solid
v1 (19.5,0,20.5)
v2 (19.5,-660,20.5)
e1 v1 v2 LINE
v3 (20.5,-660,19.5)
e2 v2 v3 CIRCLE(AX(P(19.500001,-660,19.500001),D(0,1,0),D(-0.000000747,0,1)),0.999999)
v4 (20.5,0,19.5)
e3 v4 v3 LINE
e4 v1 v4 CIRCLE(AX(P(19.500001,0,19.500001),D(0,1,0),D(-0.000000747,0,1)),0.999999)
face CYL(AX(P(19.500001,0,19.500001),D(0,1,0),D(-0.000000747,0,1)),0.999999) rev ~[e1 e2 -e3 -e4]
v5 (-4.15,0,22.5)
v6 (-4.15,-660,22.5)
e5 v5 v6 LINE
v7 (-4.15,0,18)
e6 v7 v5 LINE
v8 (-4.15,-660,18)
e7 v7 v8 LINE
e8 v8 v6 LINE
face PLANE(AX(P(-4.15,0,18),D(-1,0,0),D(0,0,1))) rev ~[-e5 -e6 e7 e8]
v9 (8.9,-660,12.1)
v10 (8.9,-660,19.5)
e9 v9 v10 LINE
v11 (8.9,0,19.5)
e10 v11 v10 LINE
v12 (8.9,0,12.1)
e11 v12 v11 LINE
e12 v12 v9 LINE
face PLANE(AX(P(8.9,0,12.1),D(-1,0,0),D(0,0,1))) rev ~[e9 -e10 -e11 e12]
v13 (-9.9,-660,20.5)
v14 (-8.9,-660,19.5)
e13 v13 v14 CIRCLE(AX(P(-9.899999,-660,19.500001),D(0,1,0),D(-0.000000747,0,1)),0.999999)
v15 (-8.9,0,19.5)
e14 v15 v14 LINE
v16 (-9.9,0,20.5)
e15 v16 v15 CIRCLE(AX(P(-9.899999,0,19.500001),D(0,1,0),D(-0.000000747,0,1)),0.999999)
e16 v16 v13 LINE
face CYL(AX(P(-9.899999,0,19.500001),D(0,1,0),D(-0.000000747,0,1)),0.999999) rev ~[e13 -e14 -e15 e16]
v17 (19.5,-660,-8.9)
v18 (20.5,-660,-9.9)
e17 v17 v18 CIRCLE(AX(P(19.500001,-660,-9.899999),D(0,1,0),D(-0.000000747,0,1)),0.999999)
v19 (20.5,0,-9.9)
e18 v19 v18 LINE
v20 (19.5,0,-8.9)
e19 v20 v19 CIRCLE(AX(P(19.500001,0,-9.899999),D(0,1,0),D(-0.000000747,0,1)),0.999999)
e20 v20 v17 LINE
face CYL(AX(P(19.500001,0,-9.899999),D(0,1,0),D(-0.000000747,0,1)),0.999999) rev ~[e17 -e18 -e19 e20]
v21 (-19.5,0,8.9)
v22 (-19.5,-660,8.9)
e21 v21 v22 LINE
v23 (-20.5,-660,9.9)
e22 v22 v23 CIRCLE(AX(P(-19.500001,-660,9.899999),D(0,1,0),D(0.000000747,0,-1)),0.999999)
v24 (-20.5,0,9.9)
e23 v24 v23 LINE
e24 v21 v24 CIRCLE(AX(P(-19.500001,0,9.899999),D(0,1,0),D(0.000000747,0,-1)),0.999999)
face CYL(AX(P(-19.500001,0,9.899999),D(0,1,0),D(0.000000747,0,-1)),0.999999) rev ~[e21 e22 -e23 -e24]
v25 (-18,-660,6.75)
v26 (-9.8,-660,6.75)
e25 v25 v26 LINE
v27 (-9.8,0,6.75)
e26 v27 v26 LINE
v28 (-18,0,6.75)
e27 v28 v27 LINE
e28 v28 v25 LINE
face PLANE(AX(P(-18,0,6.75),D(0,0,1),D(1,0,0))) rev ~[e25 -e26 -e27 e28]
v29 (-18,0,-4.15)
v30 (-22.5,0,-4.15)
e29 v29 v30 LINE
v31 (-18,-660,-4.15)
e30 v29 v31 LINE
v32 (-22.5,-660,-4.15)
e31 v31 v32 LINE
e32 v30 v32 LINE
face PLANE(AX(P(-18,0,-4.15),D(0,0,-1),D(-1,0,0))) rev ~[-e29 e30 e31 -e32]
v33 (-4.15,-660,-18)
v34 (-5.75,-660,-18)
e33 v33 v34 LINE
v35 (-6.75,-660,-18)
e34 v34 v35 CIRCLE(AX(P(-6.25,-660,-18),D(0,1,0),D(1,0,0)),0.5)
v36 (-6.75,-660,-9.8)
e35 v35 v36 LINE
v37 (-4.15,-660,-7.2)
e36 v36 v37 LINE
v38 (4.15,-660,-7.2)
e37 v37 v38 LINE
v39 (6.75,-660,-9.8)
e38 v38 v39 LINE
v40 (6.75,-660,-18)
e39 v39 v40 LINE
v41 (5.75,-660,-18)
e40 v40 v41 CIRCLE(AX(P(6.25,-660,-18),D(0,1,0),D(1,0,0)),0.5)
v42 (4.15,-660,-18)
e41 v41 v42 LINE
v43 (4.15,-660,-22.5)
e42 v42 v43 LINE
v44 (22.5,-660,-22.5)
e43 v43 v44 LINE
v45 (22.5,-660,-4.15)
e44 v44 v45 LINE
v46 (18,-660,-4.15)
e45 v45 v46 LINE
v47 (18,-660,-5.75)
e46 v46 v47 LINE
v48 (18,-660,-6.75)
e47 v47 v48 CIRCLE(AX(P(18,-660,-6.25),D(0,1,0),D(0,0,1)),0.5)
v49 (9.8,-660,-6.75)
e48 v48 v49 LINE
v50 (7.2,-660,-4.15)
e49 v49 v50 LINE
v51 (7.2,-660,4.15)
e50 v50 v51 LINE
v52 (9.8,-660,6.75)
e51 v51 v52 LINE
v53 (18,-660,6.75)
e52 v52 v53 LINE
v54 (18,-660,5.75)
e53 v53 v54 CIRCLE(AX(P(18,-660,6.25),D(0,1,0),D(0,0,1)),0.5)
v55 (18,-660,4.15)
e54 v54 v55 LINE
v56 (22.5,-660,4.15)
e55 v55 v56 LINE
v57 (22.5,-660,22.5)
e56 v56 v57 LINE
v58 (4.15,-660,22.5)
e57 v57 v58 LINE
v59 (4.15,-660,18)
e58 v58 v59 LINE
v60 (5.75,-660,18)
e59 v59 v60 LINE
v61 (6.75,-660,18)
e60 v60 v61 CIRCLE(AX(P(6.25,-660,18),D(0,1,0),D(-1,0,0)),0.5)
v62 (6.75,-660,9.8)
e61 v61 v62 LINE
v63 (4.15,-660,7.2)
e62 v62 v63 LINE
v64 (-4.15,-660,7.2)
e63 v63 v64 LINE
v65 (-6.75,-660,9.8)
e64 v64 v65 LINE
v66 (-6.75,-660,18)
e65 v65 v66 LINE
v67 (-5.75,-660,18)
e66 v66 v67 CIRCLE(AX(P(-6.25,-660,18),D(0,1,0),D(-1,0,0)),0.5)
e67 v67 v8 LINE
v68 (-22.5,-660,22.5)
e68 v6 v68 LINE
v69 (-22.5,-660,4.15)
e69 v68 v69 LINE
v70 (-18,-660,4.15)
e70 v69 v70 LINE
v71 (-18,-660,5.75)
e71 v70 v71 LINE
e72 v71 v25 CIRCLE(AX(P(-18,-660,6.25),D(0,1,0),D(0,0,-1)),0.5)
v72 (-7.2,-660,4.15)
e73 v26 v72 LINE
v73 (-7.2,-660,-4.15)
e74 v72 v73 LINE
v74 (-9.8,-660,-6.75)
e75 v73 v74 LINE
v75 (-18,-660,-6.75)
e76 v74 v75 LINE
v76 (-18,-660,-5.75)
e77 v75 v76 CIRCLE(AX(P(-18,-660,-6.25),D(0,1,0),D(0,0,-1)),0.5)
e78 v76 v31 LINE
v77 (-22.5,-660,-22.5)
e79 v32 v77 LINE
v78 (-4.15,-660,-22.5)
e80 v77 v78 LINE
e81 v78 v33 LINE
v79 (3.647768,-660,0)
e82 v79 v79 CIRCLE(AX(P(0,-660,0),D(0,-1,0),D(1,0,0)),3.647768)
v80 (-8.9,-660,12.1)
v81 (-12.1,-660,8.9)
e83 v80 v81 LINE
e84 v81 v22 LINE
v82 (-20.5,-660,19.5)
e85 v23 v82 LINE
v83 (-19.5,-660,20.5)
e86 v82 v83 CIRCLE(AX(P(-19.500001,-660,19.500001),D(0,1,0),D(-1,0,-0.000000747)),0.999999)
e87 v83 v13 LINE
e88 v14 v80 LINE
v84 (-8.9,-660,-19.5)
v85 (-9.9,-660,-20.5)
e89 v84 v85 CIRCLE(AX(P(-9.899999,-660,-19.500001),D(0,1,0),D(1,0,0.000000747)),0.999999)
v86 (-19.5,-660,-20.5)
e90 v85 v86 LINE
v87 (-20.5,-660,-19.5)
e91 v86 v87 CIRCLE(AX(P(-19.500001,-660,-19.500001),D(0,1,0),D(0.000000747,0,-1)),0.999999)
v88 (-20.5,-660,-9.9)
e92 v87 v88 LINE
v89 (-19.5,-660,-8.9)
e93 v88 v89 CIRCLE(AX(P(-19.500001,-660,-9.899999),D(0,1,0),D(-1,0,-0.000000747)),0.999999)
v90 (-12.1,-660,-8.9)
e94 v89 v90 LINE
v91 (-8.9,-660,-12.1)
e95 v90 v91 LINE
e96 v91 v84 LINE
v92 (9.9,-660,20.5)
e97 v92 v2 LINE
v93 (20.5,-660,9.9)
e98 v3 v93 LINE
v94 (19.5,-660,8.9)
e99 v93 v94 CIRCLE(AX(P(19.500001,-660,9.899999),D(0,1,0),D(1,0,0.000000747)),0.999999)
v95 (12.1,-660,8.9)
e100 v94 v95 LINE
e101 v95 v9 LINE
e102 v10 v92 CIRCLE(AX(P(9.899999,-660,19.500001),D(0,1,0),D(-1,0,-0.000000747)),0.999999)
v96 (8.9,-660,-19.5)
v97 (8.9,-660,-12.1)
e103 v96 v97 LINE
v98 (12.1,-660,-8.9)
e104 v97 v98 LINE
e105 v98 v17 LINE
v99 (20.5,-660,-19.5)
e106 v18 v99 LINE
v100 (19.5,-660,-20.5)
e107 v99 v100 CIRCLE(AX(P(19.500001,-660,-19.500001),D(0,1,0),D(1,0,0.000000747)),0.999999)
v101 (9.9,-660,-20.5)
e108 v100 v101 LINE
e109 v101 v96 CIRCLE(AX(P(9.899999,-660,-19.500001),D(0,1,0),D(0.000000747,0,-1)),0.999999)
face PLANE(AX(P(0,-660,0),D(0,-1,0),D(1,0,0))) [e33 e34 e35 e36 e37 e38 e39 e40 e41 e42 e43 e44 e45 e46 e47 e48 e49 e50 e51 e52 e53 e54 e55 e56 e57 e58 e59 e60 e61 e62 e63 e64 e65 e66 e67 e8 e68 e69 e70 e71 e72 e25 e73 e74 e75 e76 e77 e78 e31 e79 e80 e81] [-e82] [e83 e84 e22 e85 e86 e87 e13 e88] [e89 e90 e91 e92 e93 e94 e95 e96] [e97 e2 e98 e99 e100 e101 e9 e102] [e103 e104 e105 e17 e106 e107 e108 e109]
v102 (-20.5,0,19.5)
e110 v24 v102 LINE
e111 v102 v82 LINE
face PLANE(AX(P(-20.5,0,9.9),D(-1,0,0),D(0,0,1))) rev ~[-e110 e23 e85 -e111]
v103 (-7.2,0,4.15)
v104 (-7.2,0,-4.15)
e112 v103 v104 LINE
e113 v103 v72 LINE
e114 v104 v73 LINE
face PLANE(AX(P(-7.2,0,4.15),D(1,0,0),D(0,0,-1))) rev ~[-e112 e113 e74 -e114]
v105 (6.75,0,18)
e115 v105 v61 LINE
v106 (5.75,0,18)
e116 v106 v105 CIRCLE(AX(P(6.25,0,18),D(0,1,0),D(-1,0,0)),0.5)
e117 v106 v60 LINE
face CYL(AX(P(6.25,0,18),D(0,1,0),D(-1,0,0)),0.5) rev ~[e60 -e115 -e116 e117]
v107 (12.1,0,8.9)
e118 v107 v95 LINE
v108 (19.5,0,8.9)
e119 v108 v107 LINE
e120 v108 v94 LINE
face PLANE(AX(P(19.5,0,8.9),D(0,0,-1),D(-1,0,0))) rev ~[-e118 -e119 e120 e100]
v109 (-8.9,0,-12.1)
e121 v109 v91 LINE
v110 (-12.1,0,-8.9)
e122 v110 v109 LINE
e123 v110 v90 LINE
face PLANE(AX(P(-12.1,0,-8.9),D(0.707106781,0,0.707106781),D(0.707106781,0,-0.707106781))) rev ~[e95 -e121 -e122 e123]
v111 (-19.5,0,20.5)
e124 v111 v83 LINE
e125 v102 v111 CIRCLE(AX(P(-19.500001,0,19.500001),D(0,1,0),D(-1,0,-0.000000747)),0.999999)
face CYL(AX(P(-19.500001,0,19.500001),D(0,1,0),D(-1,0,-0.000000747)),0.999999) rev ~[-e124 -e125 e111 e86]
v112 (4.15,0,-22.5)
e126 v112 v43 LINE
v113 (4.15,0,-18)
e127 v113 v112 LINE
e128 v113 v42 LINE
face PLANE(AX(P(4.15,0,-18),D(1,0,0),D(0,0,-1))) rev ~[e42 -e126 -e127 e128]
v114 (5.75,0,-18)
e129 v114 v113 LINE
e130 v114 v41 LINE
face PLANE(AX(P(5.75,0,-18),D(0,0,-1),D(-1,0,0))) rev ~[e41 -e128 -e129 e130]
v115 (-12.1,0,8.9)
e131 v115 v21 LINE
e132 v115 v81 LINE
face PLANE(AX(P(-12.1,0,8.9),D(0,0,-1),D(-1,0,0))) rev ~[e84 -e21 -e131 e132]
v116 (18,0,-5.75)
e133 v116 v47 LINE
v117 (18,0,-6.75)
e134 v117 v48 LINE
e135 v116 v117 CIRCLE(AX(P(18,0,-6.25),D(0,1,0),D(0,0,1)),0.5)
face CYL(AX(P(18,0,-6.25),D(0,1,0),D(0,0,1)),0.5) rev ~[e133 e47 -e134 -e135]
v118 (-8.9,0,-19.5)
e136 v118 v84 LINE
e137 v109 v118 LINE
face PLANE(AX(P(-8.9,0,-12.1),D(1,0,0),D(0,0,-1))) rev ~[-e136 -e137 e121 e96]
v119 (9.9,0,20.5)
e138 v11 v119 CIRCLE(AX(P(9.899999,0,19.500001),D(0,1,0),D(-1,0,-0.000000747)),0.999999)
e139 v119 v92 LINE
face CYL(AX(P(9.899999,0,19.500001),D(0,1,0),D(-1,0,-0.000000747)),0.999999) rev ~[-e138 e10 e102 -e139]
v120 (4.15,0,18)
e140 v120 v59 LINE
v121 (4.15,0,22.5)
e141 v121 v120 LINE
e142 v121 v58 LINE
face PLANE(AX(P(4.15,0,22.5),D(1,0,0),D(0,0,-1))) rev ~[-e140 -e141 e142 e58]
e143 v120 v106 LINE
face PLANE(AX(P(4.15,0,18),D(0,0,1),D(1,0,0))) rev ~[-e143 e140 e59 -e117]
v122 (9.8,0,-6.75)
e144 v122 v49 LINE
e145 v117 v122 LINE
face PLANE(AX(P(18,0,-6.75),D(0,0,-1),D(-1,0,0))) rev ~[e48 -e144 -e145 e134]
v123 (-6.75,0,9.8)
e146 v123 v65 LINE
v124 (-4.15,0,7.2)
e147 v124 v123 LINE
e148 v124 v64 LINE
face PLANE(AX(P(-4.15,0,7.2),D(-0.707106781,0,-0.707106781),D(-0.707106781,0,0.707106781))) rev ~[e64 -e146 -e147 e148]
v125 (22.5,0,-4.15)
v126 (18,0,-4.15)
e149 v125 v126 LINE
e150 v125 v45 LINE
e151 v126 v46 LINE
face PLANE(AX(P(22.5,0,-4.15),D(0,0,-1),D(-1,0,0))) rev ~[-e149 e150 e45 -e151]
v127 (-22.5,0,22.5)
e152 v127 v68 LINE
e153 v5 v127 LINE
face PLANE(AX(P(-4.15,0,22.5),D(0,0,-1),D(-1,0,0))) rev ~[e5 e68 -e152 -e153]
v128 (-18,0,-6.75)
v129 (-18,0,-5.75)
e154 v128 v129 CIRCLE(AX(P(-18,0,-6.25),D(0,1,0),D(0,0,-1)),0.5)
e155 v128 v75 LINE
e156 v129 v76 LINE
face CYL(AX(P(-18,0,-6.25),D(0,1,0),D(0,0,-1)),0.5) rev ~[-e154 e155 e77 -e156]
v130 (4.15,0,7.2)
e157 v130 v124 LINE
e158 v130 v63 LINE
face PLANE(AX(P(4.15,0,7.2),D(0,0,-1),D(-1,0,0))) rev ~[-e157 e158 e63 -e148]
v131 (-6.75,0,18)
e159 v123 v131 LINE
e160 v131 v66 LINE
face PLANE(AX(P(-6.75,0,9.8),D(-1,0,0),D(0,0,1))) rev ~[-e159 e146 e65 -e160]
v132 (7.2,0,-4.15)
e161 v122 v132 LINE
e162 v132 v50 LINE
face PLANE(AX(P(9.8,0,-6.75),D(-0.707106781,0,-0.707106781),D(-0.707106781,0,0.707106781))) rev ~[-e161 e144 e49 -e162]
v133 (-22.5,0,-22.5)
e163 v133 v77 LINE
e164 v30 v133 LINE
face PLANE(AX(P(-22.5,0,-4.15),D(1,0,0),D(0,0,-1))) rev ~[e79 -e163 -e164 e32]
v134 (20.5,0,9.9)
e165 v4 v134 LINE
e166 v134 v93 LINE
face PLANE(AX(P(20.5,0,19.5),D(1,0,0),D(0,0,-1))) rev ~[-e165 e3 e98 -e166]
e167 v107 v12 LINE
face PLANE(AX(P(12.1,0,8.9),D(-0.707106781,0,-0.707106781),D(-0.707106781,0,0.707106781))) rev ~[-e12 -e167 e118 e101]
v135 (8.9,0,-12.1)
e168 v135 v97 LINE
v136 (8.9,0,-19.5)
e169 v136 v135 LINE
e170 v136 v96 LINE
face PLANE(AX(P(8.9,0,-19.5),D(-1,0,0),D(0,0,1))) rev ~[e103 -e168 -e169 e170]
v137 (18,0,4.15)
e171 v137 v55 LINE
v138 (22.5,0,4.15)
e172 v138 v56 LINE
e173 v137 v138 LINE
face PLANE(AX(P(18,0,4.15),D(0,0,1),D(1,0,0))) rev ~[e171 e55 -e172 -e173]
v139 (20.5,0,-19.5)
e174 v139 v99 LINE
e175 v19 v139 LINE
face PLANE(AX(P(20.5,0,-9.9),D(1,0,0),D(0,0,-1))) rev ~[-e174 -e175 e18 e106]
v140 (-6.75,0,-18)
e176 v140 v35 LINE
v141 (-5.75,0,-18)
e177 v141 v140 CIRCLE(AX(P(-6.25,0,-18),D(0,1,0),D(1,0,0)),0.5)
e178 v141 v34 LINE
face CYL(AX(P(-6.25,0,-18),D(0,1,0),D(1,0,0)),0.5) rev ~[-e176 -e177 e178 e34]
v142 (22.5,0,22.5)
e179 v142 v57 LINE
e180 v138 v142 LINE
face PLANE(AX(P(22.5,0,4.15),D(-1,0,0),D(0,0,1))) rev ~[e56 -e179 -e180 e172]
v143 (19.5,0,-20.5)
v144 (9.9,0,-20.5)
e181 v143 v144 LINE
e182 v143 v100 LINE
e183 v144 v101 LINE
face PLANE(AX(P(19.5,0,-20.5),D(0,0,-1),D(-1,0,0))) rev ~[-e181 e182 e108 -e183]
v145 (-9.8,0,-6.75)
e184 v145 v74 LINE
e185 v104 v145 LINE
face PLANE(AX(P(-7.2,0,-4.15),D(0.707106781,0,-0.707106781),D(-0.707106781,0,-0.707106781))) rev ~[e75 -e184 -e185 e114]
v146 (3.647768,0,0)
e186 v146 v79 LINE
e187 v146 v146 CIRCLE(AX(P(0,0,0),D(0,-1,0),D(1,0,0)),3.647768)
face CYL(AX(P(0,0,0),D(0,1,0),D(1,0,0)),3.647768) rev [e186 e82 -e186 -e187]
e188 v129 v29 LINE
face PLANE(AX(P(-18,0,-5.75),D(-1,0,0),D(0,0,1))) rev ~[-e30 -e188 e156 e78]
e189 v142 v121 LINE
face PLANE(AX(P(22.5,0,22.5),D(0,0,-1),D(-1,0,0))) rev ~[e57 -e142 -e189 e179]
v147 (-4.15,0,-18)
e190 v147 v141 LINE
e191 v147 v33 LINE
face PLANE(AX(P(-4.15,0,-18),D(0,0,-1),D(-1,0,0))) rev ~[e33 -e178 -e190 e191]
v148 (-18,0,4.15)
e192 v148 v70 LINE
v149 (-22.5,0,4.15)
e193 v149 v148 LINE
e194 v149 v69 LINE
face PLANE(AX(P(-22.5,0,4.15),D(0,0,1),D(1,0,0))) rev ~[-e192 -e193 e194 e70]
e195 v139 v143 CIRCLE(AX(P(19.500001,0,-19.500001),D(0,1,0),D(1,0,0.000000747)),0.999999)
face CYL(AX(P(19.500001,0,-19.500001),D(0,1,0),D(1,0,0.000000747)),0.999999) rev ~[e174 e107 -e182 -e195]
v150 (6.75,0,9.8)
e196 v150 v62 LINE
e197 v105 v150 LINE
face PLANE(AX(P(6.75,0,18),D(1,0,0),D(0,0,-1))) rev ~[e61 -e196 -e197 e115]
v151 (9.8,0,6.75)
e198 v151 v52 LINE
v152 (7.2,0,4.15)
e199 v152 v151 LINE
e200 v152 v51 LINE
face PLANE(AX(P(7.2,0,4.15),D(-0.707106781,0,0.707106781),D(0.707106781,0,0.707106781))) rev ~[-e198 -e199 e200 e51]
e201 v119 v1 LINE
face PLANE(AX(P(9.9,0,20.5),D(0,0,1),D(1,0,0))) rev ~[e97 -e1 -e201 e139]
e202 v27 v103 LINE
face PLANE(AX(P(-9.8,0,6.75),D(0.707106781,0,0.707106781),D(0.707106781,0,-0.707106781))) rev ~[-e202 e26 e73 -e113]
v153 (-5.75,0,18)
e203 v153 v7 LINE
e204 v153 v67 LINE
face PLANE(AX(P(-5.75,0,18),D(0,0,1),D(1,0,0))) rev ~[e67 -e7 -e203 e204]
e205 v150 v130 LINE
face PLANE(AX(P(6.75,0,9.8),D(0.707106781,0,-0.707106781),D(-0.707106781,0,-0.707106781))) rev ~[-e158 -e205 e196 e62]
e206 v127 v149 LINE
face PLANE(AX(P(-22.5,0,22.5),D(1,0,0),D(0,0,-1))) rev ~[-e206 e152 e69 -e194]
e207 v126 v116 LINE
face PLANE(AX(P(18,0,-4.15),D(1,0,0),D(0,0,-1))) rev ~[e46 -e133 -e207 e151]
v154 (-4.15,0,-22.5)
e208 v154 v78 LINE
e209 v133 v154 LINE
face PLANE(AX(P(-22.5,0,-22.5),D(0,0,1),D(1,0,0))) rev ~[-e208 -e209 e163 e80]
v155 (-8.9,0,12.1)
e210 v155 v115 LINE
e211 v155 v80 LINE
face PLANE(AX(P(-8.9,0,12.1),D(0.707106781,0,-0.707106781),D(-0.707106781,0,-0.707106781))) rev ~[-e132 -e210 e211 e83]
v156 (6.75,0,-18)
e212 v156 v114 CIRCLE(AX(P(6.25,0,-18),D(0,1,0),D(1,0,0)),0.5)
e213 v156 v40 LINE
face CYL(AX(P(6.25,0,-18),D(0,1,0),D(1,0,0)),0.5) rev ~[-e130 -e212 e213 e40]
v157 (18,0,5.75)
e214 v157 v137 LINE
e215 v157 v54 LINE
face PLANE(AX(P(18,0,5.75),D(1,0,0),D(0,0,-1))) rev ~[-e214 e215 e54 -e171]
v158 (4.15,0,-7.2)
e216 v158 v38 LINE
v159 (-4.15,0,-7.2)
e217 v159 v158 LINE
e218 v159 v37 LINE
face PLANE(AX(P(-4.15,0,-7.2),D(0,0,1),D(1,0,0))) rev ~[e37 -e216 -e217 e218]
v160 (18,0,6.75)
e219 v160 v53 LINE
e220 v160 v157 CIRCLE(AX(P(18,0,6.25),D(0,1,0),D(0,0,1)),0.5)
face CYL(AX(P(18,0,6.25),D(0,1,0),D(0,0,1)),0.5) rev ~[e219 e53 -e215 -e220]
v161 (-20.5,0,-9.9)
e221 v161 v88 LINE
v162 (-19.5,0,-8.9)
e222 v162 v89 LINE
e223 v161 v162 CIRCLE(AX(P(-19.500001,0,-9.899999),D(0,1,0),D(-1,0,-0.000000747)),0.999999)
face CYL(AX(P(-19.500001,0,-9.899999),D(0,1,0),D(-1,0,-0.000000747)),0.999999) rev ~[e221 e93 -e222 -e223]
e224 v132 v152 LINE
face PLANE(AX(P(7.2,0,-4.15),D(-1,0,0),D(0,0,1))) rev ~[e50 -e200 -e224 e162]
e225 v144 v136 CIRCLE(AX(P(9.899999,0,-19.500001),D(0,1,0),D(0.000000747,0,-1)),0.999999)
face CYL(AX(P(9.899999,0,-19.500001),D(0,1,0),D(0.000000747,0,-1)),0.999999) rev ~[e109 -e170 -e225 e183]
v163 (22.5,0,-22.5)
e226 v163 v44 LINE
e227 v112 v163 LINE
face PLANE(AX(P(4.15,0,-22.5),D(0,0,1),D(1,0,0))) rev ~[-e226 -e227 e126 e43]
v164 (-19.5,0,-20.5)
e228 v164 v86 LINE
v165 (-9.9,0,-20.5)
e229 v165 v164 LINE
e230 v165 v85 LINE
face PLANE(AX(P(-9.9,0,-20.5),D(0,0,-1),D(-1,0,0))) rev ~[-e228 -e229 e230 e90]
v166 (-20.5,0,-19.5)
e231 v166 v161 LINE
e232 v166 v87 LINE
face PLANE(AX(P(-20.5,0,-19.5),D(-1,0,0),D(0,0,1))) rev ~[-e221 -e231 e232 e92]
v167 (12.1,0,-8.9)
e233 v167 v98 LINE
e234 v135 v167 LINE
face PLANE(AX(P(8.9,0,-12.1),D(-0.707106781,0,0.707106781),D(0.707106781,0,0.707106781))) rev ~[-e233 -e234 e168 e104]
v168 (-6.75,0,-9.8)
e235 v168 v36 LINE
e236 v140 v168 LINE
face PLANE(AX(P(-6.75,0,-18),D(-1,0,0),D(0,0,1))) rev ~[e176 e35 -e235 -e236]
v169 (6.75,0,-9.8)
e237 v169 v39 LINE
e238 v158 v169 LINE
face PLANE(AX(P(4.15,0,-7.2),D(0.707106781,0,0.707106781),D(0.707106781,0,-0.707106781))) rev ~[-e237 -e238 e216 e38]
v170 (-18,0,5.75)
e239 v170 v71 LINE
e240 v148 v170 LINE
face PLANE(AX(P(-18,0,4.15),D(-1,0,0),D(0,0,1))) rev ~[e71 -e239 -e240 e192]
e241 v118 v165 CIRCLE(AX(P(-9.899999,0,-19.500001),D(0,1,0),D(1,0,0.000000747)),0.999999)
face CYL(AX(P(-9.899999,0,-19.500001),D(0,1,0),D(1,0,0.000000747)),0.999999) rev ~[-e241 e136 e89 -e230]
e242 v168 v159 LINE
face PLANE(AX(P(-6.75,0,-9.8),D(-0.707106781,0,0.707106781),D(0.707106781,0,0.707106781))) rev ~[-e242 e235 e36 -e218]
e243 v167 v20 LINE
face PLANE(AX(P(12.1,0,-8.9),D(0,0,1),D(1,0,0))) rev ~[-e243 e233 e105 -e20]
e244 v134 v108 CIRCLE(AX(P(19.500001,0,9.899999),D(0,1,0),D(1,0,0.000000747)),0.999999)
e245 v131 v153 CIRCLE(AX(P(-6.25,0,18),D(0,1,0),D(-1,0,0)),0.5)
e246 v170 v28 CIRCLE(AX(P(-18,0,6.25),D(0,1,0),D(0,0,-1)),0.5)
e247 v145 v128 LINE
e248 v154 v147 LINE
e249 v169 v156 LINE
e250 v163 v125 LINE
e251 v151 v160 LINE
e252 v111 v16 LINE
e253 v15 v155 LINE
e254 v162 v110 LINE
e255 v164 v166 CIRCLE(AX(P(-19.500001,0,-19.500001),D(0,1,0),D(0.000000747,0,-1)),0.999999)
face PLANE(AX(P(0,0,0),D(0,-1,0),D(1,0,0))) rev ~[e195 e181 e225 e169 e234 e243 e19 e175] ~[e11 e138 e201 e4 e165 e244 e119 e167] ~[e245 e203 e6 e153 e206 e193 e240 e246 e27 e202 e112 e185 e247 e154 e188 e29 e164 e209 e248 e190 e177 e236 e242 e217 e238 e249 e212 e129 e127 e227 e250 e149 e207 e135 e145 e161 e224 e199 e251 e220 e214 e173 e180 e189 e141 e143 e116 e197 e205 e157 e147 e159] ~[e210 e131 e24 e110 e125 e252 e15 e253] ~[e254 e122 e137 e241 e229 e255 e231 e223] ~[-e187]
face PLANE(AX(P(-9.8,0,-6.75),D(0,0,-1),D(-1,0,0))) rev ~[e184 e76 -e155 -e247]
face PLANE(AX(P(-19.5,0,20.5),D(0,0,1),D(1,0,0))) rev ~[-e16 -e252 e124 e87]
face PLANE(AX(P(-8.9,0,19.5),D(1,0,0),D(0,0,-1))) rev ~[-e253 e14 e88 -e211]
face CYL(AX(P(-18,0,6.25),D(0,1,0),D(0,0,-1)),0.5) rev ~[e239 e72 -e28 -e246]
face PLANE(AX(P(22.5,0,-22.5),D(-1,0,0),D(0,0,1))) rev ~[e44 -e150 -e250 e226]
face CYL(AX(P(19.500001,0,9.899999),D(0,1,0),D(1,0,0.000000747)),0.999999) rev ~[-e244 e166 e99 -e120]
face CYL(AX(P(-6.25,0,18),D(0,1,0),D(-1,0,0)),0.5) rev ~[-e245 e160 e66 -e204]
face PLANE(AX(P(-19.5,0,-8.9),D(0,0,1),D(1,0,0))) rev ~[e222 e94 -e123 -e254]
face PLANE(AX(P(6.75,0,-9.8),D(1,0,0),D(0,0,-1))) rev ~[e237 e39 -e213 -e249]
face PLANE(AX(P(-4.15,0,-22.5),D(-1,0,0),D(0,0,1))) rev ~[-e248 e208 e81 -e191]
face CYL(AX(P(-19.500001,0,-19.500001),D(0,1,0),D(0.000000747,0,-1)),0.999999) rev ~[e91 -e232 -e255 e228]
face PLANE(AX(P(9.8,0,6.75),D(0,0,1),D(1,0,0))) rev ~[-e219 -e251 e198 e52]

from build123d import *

# Parameters (mm, degrees)
F0_R     = 3.647768
F1_DEPTH = 660


with BuildPart() as f1:
    # F0 (on Front) → F1 (new body)
    with BuildSketch(Plane.XZ):
        with BuildLine():
            Line((-4.15, 22.5), (-22.5, 22.5))
            Line((-22.5, 22.5), (-22.5, 4.15))
            Line((-22.5, 4.15), (-18, 4.15))
            Line((-18, 4.15), (-18, 5.75))
            ThreePointArc((-18, 5.75), (-18.5, 6.25), (-18, 6.75))
            Line((-18, 6.75), (-9.8, 6.75))
            Line((-9.8, 6.75), (-7.2, 4.15))
            Line((-7.2, 4.15), (-7.2, -4.15))
            Line((-7.2, -4.15), (-9.8, -6.75))
            Line((-9.8, -6.75), (-18, -6.75))
            ThreePointArc((-18, -6.75), (-18.5, -6.25), (-18, -5.75))
            Line((-18, -5.75), (-18, -4.15))
            Line((-18, -4.15), (-22.5, -4.15))
            Line((-22.5, -4.15), (-22.5, -22.5))
            Line((-22.5, -22.5), (-4.15, -22.5))
            Line((-4.15, -22.5), (-4.15, -18))
            Line((-4.15, -18), (-5.75, -18))
            ThreePointArc((-5.75, -18), (-6.25, -18.5), (-6.75, -18))
            Line((-6.75, -18), (-6.75, -9.8))
            Line((-6.75, -9.8), (-4.15, -7.2))
            Line((-4.15, -7.2), (4.15, -7.2))
            Line((4.15, -7.2), (6.75, -9.8))
            Line((6.75, -9.8), (6.75, -18))
            ThreePointArc((6.75, -18), (6.25, -18.5), (5.75, -18))
            Line((5.75, -18), (4.15, -18))
            Line((4.15, -18), (4.15, -22.5))
            Line((4.15, -22.5), (22.5, -22.5))
            Line((22.5, -22.5), (22.5, -4.15))
            Line((22.5, -4.15), (18, -4.15))
            Line((18, -4.15), (18, -5.75))
            ThreePointArc((18, -5.75), (18.5, -6.25), (18, -6.75))
            Line((18, -6.75), (9.8, -6.75))
            Line((9.8, -6.75), (7.2, -4.15))
            Line((7.2, -4.15), (7.2, 4.15))
            Line((7.2, 4.15), (9.8, 6.75))
            Line((9.8, 6.75), (18, 6.75))
            ThreePointArc((18, 6.75), (18.5, 6.25), (18, 5.75))
            Line((18, 5.75), (18, 4.15))
            Line((18, 4.15), (22.5, 4.15))
            Line((22.5, 4.15), (22.5, 22.5))
            Line((22.5, 22.5), (4.15, 22.5))
            Line((4.15, 22.5), (4.15, 18))
            Line((4.15, 18), (5.75, 18))
            ThreePointArc((5.75, 18), (6.25, 18.5), (6.75, 18))
            Line((6.75, 18), (6.75, 9.8))
            Line((6.75, 9.8), (4.15, 7.2))
            Line((4.15, 7.2), (-4.15, 7.2))
            Line((-4.15, 7.2), (-6.75, 9.8))
            Line((-6.75, 9.8), (-6.75, 18))
            ThreePointArc((-6.75, 18), (-6.25, 18.5), (-5.75, 18))
            Line((-5.75, 18), (-4.15, 18))
            Line((-4.15, 18), (-4.15, 22.5))
        make_face()
        with BuildLine():
            Line((-8.9, -12.1), (-8.9, -19.5))
            ThreePointArc((-8.9, -19.5), (-9.192893, -20.207107), (-9.9, -20.5))
            Line((-9.9, -20.5), (-19.5, -20.5))
            ThreePointArc((-19.5, -20.5), (-20.207107, -20.207107), (-20.5, -19.5))
            Line((-20.5, -19.5), (-20.5, -9.9))
            ThreePointArc((-20.5, -9.9), (-20.207107, -9.192893), (-19.5, -8.9))
            Line((-19.5, -8.9), (-12.1, -8.9))
            Line((-12.1, -8.9), (-8.9, -12.1))
        make_face(mode=Mode.SUBTRACT)
        with BuildLine():
            Line((8.9, -12.1), (12.1, -8.9))
            Line((12.1, -8.9), (19.5, -8.9))
            ThreePointArc((19.5, -8.9), (20.207107, -9.192893), (20.5, -9.9))
            Line((20.5, -9.9), (20.5, -19.5))
            ThreePointArc((20.5, -19.5), (20.207107, -20.207107), (19.5, -20.5))
            Line((19.5, -20.5), (9.9, -20.5))
            ThreePointArc((9.9, -20.5), (9.192893, -20.207107), (8.9, -19.5))
            Line((8.9, -19.5), (8.9, -12.1))
        make_face(mode=Mode.SUBTRACT)
        with BuildLine():
            ThreePointArc((-20.5, 19.5), (-20.207107, 20.207107), (-19.5, 20.5))
            Line((-19.5, 20.5), (-9.9, 20.5))
            ThreePointArc((-9.9, 20.5), (-9.192893, 20.207107), (-8.9, 19.5))
            Line((-8.9, 19.5), (-8.9, 12.1))
            Line((-8.9, 12.1), (-12.1, 8.9))
            Line((-12.1, 8.9), (-19.5, 8.9))
            ThreePointArc((-19.5, 8.9), (-20.207107, 9.192893), (-20.5, 9.9))
            Line((-20.5, 9.9), (-20.5, 19.5))
        make_face(mode=Mode.SUBTRACT)
        Circle(F0_R, mode=Mode.SUBTRACT)
        with BuildLine():
            Line((12.1, 8.9), (8.9, 12.1))
            Line((8.9, 12.1), (8.9, 19.5))
            ThreePointArc((8.9, 19.5), (9.192893, 20.207107), (9.9, 20.5))
            Line((9.9, 20.5), (19.5, 20.5))
            ThreePointArc((19.5, 20.5), (20.207107, 20.207107), (20.5, 19.5))
            Line((20.5, 19.5), (20.5, 9.9))
            ThreePointArc((20.5, 9.9), (20.207107, 9.192893), (19.5, 8.9))
            Line((19.5, 8.9), (12.1, 8.9))
        make_face(mode=Mode.SUBTRACT)
    extrude(amount=F1_DEPTH)


solid = f1.part
